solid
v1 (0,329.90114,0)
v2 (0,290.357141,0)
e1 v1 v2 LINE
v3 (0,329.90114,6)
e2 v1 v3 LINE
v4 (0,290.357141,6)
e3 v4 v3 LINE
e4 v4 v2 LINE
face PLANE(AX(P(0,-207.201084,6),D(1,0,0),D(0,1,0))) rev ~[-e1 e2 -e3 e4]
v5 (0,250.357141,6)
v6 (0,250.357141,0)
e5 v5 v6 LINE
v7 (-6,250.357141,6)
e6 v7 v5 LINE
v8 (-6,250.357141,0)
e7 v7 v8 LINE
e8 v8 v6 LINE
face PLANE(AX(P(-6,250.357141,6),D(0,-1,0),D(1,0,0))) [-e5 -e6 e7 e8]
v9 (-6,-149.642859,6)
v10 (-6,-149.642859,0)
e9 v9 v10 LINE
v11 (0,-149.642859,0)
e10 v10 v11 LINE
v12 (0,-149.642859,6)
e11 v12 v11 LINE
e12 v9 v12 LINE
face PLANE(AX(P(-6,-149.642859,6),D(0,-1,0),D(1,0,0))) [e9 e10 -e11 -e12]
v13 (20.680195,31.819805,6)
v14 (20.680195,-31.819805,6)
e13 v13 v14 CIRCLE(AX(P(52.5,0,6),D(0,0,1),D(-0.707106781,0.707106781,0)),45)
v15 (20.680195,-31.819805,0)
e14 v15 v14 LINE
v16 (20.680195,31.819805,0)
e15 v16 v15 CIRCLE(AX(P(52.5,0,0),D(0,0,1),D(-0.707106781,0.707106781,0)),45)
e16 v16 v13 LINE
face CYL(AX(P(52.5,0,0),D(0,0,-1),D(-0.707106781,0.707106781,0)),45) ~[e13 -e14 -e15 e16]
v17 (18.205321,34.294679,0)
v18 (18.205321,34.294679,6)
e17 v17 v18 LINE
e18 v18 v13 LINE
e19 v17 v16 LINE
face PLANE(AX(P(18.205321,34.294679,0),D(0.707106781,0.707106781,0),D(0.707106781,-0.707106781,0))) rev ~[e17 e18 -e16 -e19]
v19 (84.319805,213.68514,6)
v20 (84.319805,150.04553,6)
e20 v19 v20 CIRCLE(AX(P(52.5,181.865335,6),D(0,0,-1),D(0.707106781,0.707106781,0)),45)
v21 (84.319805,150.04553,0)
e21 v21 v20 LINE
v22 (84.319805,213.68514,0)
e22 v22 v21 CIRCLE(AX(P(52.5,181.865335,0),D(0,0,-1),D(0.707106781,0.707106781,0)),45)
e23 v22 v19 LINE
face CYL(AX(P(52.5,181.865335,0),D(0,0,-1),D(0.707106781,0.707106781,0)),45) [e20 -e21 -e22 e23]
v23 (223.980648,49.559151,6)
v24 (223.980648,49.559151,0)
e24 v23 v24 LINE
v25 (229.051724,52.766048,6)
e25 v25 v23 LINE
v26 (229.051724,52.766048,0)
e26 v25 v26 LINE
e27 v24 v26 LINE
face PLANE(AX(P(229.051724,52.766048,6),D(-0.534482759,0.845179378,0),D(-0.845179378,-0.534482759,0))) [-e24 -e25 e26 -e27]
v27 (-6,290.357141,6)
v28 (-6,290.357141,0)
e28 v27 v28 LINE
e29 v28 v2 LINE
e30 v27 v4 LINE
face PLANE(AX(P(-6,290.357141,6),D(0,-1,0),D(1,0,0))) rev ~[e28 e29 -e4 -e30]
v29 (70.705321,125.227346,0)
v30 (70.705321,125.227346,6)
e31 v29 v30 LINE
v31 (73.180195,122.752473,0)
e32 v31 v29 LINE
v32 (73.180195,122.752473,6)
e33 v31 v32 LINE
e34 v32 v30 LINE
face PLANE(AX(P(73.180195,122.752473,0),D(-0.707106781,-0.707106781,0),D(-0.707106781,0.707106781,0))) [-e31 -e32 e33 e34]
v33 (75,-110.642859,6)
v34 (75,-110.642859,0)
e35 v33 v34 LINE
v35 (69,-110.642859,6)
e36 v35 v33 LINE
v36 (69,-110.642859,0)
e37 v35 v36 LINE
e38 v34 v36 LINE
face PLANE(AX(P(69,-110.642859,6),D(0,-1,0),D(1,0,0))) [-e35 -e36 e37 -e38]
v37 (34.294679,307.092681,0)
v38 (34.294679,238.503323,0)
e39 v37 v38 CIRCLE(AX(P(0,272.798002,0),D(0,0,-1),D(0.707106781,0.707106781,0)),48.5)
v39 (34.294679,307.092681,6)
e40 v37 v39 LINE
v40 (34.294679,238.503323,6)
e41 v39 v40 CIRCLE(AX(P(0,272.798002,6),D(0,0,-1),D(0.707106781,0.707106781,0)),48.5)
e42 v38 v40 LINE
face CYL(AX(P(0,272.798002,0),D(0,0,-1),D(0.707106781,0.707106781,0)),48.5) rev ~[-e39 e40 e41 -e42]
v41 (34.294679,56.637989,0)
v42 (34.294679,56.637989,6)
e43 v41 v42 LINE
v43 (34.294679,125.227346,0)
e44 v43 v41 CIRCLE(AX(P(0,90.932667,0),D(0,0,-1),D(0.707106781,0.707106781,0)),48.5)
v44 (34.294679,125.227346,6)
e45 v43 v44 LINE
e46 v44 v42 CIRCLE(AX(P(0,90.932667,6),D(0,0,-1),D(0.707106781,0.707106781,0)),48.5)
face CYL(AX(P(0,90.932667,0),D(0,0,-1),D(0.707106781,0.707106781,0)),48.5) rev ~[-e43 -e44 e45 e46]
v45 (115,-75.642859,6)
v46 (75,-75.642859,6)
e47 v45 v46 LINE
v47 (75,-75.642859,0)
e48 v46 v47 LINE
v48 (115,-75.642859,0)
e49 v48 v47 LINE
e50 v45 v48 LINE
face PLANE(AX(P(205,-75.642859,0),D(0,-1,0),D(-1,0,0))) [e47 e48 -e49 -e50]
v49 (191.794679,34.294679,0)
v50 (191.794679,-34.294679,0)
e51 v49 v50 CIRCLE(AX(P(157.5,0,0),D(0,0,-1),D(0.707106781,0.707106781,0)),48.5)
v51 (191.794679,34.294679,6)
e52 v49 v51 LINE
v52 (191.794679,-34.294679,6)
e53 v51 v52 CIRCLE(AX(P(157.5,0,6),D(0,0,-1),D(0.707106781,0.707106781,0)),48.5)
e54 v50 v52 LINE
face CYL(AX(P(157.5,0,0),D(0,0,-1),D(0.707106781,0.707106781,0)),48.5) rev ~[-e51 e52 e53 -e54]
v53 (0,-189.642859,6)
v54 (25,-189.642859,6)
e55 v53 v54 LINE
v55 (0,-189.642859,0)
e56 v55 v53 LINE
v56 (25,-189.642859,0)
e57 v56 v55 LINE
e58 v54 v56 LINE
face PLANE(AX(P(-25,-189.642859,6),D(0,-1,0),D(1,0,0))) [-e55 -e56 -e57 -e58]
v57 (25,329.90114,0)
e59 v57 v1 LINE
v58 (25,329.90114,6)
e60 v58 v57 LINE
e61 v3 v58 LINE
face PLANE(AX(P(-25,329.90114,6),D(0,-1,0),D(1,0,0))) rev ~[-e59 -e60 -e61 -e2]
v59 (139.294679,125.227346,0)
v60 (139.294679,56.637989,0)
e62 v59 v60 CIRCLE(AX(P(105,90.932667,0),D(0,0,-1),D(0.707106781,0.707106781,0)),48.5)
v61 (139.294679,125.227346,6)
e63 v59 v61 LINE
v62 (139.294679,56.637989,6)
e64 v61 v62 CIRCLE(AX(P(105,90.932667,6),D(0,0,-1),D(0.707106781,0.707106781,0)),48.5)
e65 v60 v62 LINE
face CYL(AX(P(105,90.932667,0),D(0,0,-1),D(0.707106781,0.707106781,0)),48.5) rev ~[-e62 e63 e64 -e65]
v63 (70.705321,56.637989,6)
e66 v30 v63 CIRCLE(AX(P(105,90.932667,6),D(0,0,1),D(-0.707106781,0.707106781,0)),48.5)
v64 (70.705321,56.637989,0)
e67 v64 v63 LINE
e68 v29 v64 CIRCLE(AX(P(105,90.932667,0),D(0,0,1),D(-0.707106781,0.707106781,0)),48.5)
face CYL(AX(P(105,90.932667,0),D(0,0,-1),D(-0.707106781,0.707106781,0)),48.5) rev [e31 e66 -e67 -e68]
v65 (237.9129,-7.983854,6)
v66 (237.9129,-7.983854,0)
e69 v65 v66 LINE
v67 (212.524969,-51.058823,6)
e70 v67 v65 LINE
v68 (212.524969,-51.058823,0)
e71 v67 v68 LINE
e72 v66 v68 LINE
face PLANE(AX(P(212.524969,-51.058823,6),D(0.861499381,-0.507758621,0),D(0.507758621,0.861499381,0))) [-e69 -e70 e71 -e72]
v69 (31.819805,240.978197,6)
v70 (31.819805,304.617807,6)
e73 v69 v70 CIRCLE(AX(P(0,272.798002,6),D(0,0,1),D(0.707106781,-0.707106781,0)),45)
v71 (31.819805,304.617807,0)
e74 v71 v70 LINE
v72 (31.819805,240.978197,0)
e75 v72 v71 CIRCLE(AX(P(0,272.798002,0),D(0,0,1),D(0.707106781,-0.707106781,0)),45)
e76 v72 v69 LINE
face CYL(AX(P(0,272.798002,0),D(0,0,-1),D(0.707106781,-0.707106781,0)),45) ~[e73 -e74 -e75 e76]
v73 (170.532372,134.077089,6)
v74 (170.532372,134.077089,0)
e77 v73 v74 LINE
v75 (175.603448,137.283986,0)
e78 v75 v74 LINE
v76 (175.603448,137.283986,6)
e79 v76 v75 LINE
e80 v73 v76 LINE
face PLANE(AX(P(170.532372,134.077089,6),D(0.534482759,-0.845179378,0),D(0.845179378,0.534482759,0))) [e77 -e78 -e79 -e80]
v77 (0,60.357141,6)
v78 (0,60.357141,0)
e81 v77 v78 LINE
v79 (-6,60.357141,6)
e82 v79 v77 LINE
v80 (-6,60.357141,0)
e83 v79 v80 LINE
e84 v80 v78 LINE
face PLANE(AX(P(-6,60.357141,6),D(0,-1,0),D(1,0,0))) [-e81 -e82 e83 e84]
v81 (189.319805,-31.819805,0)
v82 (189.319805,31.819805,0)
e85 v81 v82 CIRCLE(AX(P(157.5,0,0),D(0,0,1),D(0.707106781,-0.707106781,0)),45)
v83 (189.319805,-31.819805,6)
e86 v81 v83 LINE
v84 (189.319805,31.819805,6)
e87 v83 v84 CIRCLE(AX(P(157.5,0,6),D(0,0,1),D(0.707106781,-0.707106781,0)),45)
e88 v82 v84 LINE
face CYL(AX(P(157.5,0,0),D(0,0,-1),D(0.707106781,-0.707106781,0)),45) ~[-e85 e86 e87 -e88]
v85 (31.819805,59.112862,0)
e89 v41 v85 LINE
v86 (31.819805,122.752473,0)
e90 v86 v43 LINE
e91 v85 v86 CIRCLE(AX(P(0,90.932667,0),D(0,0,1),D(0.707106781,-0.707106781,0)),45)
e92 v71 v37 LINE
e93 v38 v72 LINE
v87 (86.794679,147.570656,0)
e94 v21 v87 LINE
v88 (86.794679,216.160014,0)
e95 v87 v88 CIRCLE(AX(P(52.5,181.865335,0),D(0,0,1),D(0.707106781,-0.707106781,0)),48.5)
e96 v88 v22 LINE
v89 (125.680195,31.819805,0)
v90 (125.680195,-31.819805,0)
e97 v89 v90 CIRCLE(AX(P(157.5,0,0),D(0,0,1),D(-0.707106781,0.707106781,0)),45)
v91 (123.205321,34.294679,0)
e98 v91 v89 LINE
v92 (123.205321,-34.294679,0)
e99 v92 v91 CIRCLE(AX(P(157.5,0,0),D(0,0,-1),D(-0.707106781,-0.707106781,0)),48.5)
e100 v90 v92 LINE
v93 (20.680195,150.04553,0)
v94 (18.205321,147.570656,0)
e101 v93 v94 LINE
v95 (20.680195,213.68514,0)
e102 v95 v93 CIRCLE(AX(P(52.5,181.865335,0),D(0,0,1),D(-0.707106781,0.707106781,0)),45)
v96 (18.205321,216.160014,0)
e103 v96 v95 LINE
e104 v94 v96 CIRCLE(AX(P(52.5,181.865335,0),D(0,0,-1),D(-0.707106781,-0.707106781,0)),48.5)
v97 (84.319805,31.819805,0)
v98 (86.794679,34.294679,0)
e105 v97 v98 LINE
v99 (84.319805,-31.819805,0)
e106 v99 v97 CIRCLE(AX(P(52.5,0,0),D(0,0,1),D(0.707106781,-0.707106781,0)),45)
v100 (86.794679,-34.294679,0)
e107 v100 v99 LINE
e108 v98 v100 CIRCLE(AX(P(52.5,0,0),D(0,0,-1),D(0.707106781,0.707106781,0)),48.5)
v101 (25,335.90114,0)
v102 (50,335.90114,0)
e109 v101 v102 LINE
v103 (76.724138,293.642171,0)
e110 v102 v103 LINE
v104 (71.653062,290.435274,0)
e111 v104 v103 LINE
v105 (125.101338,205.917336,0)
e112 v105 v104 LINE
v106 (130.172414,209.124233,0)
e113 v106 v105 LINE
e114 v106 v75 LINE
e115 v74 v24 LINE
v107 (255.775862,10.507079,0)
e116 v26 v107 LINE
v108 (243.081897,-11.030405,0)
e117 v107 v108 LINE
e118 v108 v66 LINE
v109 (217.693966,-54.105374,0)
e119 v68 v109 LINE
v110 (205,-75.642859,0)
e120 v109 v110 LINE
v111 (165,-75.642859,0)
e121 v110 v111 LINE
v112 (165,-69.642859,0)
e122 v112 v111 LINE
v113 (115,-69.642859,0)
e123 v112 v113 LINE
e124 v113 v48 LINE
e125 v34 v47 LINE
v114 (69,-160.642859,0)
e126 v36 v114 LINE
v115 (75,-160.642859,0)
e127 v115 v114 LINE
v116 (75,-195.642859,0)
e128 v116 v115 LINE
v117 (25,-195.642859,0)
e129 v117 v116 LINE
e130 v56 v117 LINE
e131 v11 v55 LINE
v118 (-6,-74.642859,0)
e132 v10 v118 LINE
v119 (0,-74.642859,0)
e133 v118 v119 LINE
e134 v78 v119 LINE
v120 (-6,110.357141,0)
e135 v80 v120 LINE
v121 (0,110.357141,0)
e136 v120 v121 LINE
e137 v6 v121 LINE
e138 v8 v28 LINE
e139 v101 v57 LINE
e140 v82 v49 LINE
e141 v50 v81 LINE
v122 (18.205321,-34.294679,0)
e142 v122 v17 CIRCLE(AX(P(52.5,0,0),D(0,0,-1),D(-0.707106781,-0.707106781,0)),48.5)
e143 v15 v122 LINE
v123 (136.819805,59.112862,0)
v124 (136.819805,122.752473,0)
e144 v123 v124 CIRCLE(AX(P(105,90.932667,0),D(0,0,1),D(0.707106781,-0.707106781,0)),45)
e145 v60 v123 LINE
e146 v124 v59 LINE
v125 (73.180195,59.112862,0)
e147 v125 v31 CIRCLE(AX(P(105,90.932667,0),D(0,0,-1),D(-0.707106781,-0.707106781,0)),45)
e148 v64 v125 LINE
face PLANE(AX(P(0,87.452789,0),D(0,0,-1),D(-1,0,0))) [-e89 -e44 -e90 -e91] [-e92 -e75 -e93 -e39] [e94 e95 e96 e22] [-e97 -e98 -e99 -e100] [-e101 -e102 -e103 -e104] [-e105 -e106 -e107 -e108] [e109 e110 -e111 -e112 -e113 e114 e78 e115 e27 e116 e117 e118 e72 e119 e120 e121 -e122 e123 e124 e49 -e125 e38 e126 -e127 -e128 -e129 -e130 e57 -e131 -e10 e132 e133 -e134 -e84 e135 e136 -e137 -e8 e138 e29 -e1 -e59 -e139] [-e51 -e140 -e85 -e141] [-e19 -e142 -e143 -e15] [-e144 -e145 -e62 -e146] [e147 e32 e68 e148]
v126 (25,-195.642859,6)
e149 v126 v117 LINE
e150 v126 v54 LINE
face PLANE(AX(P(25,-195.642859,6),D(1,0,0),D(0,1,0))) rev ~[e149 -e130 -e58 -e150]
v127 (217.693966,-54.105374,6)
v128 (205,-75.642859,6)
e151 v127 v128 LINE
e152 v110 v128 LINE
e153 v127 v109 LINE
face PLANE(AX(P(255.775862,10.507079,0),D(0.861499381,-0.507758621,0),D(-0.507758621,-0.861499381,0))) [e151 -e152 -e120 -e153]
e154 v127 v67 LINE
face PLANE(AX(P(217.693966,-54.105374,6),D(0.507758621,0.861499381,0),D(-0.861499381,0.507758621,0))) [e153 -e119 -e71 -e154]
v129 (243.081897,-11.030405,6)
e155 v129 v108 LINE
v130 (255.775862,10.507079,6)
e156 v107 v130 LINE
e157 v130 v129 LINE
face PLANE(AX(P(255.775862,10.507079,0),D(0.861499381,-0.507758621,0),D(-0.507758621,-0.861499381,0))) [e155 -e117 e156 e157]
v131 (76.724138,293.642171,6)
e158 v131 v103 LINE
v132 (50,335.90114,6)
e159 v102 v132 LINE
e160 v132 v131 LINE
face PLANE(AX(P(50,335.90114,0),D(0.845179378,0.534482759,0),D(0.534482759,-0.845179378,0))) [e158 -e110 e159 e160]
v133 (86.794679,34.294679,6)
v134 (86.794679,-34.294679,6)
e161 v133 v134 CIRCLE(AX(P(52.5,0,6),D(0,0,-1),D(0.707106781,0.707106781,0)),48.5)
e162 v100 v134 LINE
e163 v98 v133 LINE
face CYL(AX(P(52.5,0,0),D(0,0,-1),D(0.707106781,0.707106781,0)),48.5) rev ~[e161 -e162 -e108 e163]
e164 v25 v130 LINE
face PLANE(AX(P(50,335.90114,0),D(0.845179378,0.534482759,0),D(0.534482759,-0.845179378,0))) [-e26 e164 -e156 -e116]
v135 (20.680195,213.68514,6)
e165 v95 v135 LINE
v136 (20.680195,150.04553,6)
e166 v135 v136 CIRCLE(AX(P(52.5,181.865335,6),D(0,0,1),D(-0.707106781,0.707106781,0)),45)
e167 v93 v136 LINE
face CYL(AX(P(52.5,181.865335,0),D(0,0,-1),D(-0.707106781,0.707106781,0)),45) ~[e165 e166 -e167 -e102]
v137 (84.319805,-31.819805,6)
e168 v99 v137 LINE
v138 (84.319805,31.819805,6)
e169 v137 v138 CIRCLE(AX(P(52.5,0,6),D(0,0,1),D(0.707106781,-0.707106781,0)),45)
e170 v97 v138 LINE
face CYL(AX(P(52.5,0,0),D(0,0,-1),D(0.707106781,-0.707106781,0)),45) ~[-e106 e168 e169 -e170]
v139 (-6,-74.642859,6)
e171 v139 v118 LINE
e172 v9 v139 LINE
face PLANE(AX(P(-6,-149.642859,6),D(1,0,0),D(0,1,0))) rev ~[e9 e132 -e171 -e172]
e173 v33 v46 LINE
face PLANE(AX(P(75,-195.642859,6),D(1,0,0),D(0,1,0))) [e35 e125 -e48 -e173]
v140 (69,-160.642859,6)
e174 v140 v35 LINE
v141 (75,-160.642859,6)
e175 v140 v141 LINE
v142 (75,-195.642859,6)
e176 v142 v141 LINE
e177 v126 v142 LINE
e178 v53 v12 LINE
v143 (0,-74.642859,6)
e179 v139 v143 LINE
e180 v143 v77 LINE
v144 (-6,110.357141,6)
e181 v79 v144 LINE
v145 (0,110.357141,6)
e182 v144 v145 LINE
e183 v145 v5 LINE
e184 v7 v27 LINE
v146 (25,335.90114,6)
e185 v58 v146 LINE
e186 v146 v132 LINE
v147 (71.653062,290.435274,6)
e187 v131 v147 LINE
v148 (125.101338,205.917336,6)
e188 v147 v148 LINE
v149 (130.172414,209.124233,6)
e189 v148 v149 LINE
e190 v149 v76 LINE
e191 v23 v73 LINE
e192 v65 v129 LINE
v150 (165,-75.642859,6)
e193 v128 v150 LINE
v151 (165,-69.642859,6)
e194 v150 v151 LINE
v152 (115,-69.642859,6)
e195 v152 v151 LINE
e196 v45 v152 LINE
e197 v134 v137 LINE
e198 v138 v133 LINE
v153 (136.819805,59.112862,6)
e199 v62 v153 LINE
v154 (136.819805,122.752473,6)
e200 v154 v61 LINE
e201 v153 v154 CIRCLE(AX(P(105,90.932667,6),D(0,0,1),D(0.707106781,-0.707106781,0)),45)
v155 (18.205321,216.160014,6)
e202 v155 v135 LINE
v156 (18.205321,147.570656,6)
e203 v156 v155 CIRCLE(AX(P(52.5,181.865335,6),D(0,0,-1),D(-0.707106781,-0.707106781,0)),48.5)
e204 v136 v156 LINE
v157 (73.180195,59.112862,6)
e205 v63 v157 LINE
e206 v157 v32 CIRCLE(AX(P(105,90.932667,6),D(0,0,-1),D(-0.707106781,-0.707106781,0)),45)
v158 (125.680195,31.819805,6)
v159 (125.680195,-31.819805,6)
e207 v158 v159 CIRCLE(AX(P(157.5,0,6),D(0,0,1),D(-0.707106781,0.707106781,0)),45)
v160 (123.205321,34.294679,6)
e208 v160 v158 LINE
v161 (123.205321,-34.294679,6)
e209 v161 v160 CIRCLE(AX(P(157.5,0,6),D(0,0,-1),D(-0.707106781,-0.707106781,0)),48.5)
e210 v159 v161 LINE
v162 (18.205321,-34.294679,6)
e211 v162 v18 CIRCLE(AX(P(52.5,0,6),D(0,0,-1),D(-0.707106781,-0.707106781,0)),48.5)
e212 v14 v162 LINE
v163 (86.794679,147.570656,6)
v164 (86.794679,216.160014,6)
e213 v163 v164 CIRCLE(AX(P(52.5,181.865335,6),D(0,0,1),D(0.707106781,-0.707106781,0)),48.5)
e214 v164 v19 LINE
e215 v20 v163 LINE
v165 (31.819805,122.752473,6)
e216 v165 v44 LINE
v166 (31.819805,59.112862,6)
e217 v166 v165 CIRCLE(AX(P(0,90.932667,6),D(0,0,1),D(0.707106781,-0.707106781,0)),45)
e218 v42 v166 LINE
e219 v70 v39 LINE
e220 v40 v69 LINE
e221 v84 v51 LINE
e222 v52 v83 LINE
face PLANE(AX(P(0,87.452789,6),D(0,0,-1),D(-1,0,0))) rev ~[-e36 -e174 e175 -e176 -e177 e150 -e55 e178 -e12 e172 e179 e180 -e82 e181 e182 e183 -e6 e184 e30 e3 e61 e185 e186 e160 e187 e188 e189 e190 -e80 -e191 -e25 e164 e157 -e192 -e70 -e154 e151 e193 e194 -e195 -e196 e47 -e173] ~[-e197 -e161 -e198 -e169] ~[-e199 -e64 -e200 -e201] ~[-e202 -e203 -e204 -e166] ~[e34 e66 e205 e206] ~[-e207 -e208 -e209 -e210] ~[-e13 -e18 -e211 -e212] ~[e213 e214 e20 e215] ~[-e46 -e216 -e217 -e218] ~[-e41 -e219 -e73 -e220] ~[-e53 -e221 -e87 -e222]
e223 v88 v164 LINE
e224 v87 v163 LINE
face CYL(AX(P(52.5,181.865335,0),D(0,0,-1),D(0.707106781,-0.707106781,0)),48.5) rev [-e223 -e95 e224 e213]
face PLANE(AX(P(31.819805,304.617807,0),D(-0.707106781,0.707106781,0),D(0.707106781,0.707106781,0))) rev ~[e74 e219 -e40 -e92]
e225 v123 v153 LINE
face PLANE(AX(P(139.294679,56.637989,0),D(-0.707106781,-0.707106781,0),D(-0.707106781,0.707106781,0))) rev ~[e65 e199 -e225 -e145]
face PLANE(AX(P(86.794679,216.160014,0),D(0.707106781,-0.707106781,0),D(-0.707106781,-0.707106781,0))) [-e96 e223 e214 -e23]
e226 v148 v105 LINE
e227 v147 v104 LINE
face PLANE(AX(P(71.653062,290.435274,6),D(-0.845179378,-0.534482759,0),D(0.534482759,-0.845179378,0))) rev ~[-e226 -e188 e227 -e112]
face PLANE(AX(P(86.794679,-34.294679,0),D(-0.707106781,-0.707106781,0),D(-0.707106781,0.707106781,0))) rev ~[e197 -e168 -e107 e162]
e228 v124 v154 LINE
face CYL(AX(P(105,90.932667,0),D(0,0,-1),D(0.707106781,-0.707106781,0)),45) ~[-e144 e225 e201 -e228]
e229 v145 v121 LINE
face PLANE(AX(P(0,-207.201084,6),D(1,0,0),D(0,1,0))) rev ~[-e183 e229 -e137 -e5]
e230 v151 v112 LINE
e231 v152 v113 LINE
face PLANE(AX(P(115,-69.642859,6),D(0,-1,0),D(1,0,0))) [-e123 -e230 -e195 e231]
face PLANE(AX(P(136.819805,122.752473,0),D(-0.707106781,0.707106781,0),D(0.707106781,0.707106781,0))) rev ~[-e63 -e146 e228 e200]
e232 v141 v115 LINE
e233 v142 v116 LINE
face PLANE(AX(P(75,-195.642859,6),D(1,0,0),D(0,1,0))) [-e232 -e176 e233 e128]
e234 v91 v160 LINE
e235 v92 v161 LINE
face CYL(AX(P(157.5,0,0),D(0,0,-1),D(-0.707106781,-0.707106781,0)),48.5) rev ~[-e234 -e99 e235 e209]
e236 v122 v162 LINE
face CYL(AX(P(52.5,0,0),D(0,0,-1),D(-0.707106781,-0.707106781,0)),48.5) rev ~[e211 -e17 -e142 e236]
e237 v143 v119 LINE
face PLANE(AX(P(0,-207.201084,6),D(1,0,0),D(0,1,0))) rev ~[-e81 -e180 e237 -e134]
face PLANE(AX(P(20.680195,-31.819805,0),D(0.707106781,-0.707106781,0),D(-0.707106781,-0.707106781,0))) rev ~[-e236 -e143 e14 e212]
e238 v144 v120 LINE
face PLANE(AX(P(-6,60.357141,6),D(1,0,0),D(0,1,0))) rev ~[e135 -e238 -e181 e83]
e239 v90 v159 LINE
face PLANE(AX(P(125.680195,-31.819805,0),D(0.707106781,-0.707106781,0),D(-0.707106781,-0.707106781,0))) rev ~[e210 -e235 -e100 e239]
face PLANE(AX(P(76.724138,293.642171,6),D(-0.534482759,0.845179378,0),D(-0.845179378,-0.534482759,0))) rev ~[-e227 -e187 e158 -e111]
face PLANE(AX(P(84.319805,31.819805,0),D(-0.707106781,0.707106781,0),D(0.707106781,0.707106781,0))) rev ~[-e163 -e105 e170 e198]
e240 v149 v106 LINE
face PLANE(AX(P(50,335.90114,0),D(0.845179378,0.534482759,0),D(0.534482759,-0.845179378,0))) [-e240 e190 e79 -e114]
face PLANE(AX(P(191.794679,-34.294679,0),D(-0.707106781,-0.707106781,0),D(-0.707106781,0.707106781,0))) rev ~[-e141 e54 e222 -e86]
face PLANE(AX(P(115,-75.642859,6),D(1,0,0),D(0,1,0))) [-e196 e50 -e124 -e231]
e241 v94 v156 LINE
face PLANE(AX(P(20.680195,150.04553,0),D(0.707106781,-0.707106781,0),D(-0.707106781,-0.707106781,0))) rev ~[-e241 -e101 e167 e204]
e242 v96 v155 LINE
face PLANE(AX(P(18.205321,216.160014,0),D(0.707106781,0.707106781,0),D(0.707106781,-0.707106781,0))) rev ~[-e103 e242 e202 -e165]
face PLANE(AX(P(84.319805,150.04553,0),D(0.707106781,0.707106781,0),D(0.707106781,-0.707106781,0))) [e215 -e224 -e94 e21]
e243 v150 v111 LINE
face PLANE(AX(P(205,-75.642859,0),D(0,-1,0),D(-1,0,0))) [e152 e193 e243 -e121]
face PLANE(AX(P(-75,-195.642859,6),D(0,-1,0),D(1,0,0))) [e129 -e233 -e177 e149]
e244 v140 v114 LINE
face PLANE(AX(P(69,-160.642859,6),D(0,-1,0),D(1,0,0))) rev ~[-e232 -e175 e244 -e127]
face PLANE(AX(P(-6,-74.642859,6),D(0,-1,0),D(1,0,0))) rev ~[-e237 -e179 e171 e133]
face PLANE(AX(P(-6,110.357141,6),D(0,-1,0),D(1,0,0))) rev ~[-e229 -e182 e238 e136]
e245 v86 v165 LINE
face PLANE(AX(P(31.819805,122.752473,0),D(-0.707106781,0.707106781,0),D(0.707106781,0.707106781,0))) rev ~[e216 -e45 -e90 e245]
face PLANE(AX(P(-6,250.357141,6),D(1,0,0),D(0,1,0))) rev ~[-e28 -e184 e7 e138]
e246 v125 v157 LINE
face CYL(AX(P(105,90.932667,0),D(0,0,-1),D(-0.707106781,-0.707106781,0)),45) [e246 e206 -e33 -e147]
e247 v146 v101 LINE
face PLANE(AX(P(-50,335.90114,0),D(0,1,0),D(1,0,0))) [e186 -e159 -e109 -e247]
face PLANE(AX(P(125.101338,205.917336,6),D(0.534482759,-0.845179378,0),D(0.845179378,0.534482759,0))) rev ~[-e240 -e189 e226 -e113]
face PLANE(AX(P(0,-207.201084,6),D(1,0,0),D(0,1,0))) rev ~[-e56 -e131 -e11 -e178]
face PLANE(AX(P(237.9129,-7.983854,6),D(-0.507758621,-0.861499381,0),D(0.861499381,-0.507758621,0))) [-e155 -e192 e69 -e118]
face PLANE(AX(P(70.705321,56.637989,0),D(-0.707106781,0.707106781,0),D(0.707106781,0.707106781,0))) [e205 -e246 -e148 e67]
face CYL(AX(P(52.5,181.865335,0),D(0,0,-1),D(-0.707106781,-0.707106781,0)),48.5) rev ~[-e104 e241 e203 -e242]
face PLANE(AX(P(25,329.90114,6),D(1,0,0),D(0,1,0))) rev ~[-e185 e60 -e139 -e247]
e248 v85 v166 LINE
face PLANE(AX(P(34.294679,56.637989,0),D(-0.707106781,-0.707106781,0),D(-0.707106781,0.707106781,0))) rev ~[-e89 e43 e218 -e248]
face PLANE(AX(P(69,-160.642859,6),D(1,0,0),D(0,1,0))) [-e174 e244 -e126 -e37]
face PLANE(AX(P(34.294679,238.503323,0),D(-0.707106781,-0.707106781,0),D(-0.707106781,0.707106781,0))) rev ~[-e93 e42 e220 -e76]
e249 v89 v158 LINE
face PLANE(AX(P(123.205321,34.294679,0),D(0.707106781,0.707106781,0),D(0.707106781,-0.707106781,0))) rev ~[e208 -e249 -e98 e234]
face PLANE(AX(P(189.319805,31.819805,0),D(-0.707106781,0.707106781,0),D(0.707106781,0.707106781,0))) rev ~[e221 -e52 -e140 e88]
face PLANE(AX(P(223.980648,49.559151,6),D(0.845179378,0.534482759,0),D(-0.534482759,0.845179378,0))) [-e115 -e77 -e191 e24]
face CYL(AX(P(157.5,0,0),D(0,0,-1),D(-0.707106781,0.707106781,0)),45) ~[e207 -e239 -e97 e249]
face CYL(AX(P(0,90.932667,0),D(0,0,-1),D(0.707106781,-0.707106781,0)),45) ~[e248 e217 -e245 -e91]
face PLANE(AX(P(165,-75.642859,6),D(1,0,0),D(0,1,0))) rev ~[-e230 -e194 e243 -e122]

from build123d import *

# Parameters (mm, degrees)
BOSS_EXTRU_1_DEPTH      = 6
ESQUISSE2_W             = 150
ESQUISSE2_H             = 120
BOSS_EXTRU_2_DEPTH      = 6
ESQUISSE3_W             = 6
ESQUISSE3_H             = 50
ESQUISSE3_W_2           = 50
ESQUISSE3_H_2           = 6
ENL_V_MAT_EXTRU_1_DEPTH = 10
ESQUISSE4_W             = 50
ESQUISSE4_H             = 6
ENL_V_MAT_EXTRU_2_DEPTH = 10
ESQUISSE7_W             = 293.706966018
ESQUISSE7_H             = 576.29660199
ENL_V_MAT_EXTRU_4_DEPTH = 10
ESQUISSE8_W             = 6
ESQUISSE8_H             = 40
ESQUISSE8_H_2           = 50
ESQUISSE8_H_3           = 75
BOSS_EXTRU_4_DEPTH      = 6


with BuildPart() as part:
    # Esquisse1 → Boss.-Extru.1 (new body)
    with BuildSketch(Plane.XY):
        Polygon((-50, 335.901139535), (50, 335.901139535), (255.775862069, 10.507079064), (205, -75.642859016), (-205, -75.642859016), (-255.775862069, 10.507079064), align=None)
        with BuildLine():
            Line((-189.319805153, 31.819805153), (-191.794678888, 34.294678888))
            ThreePointArc((-191.794678888, 34.294678888), (-206, 0), (-191.794678888, -34.294678888))
            Line((-191.794678888, -34.294678888), (-189.319805153, -31.819805153))
            ThreePointArc((-189.319805153, -31.819805153), (-202.5, 0), (-189.319805153, 31.819805153))
        make_face(mode=Mode.SUBTRACT)
        with BuildLine():
            Line((-125.680194847, 31.819805153), (-123.205321112, 34.294678888))
            ThreePointArc((-123.205321112, 34.294678888), (-109, 0), (-123.205321112, -34.294678888))
            Line((-123.205321112, -34.294678888), (-125.680194847, -31.819805153))
            ThreePointArc((-125.680194847, -31.819805153), (-112.5, 0), (-125.680194847, 31.819805153))
        make_face(mode=Mode.SUBTRACT)
        with BuildLine():
            Line((-84.319805153, -31.819805153), (-86.794678888, -34.294678888))
            ThreePointArc((-86.794678888, -34.294678888), (-101, 0), (-86.794678888, 34.294678888))
            Line((-86.794678888, 34.294678888), (-84.319805153, 31.819805153))
            ThreePointArc((-84.319805153, 31.819805153), (-97.5, 0), (-84.319805153, -31.819805153))
        make_face(mode=Mode.SUBTRACT)
        with BuildLine():
            Line((-20.680194847, 31.819805153), (-18.205321112, 34.294678888))
            ThreePointArc((-18.205321112, 34.294678888), (-4, 0), (-18.205321112, -34.294678888))
            Line((-18.205321112, -34.294678888), (-20.680194847, -31.819805153))
            ThreePointArc((-20.680194847, -31.819805153), (-7.5, 0), (-20.680194847, 31.819805153))
        make_face(mode=Mode.SUBTRACT)
        with BuildLine():
            Line((20.680194847, -31.819805153), (18.205321112, -34.294678888))
            ThreePointArc((18.205321112, -34.294678888), (4, 0), (18.205321112, 34.294678888))
            Line((18.205321112, 34.294678888), (20.680194847, 31.819805153))
            ThreePointArc((20.680194847, 31.819805153), (7.5, 0), (20.680194847, -31.819805153))
        make_face(mode=Mode.SUBTRACT)
        with BuildLine():
            Line((84.319805153, 31.819805153), (86.794678888, 34.294678888))
            ThreePointArc((86.794678888, 34.294678888), (101, 0), (86.794678888, -34.294678888))
            Line((86.794678888, -34.294678888), (84.319805153, -31.819805153))
            ThreePointArc((84.319805153, -31.819805153), (97.5, 0), (84.319805153, 31.819805153))
        make_face(mode=Mode.SUBTRACT)
        with BuildLine():
            Line((125.680194847, -31.819805153), (123.205321112, -34.294678888))
            ThreePointArc((123.205321112, -34.294678888), (109, 0), (123.205321112, 34.294678888))
            Line((123.205321112, 34.294678888), (125.680194847, 31.819805153))
            ThreePointArc((125.680194847, 31.819805153), (112.5, 0), (125.680194847, -31.819805153))
        make_face(mode=Mode.SUBTRACT)
        with BuildLine():
            Line((189.319805153, 31.819805153), (191.794678888, 34.294678888))
            ThreePointArc((191.794678888, 34.294678888), (206, 0), (191.794678888, -34.294678888))
            Line((191.794678888, -34.294678888), (189.319805153, -31.819805153))
            ThreePointArc((189.319805153, -31.819805153), (202.5, 0), (189.319805153, 31.819805153))
        make_face(mode=Mode.SUBTRACT)
        with BuildLine():
            Line((-139.294678888, 56.63798851), (-136.819805153, 59.112862244))
            ThreePointArc((-136.819805153, 59.112862244), (-150, 90.932667397), (-136.819805153, 122.752472551))
            Line((-136.819805153, 122.752472551), (-139.294678888, 125.227346285))
            ThreePointArc((-139.294678888, 125.227346285), (-153.5, 90.932667397), (-139.294678888, 56.63798851))
        make_face(mode=Mode.SUBTRACT)
        with BuildLine():
            Line((-70.705321112, 56.63798851), (-73.180194847, 59.112862244))
            ThreePointArc((-73.180194847, 59.112862244), (-60, 90.932667397), (-73.180194847, 122.752472551))
            Line((-73.180194847, 122.752472551), (-70.705321112, 125.227346285))
            ThreePointArc((-70.705321112, 125.227346285), (-56.5, 90.932667397), (-70.705321112, 56.63798851))
        make_face(mode=Mode.SUBTRACT)
        with BuildLine():
            Line((-31.819805153, 122.752472551), (-34.294678888, 125.227346285))
            ThreePointArc((-34.294678888, 125.227346285), (-48.5, 90.932667397), (-34.294678888, 56.63798851))
            Line((-34.294678888, 56.63798851), (-31.819805153, 59.112862244))
            ThreePointArc((-31.819805153, 59.112862244), (-45, 90.932667397), (-31.819805153, 122.752472551))
        make_face(mode=Mode.SUBTRACT)
        with BuildLine():
            Line((34.294678888, 56.63798851), (31.819805153, 59.112862244))
            ThreePointArc((31.819805153, 59.112862244), (45, 90.932667397), (31.819805153, 122.752472551))
            Line((31.819805153, 122.752472551), (34.294678888, 125.227346285))
            ThreePointArc((34.294678888, 125.227346285), (48.5, 90.932667397), (34.294678888, 56.63798851))
        make_face(mode=Mode.SUBTRACT)
        with BuildLine():
            Line((73.180194847, 122.752472551), (70.705321112, 125.227346285))
            ThreePointArc((70.705321112, 125.227346285), (56.5, 90.932667397), (70.705321112, 56.63798851))
            Line((70.705321112, 56.63798851), (73.180194847, 59.112862244))
            ThreePointArc((73.180194847, 59.112862244), (60, 90.932667397), (73.180194847, 122.752472551))
        make_face(mode=Mode.SUBTRACT)
        with BuildLine():
            Line((139.294678888, 56.63798851), (136.819805153, 59.112862244))
            ThreePointArc((136.819805153, 59.112862244), (150, 90.932667397), (136.819805153, 122.752472551))
            Line((136.819805153, 122.752472551), (139.294678888, 125.227346285))
            ThreePointArc((139.294678888, 125.227346285), (153.5, 90.932667397), (139.294678888, 56.63798851))
        make_face(mode=Mode.SUBTRACT)
        with BuildLine():
            Line((-84.319805153, 213.685139948), (-86.794678888, 216.160013682))
            ThreePointArc((-86.794678888, 216.160013682), (-101, 181.865334795), (-86.794678888, 147.570655907))
            Line((-86.794678888, 147.570655907), (-84.319805153, 150.045529641))
            ThreePointArc((-84.319805153, 150.045529641), (-97.5, 181.865334795), (-84.319805153, 213.685139948))
        make_face(mode=Mode.SUBTRACT)
        with BuildLine():
            Line((-20.680194847, 213.685139948), (-18.205321112, 216.160013682))
            ThreePointArc((-18.205321112, 216.160013682), (-4, 181.865334795), (-18.205321112, 147.570655907))
            Line((-18.205321112, 147.570655907), (-20.680194847, 150.045529641))
            ThreePointArc((-20.680194847, 150.045529641), (-7.5, 181.865334795), (-20.680194847, 213.685139948))
        make_face(mode=Mode.SUBTRACT)
        with BuildLine():
            Line((20.680194847, 150.045529641), (18.205321112, 147.570655907))
            ThreePointArc((18.205321112, 147.570655907), (4, 181.865334795), (18.205321112, 216.160013682))
            Line((18.205321112, 216.160013682), (20.680194847, 213.685139948))
            ThreePointArc((20.680194847, 213.685139948), (7.5, 181.865334795), (20.680194847, 150.045529641))
        make_face(mode=Mode.SUBTRACT)
        with BuildLine():
            Line((84.319805153, 150.045529641), (86.794678888, 147.570655907))
            ThreePointArc((86.794678888, 147.570655907), (101, 181.865334795), (86.794678888, 216.160013682))
            Line((86.794678888, 216.160013682), (84.319805153, 213.685139948))
            ThreePointArc((84.319805153, 213.685139948), (97.5, 181.865334795), (84.319805153, 150.045529641))
        make_face(mode=Mode.SUBTRACT)
        with BuildLine():
            Line((-31.819805153, 304.617807345), (-34.294678888, 307.09268108))
            ThreePointArc((-34.294678888, 307.09268108), (-48.5, 272.798002192), (-34.294678888, 238.503323305))
            Line((-34.294678888, 238.503323305), (-31.819805153, 240.978197039))
            ThreePointArc((-31.819805153, 240.978197039), (-45, 272.798002192), (-31.819805153, 304.617807345))
        make_face(mode=Mode.SUBTRACT)
        with BuildLine():
            Line((31.819805153, 304.617807345), (34.294678888, 307.09268108))
            ThreePointArc((34.294678888, 307.09268108), (48.5, 272.798002192), (34.294678888, 238.503323305))
            Line((34.294678888, 238.503323305), (31.819805153, 240.978197039))
            ThreePointArc((31.819805153, 240.978197039), (45, 272.798002192), (31.819805153, 304.617807345))
        make_face(mode=Mode.SUBTRACT)
    extrude(amount=BOSS_EXTRU_1_DEPTH)

    # Esquisse2 → Boss.-Extru.2 (add)
    with BuildSketch(Plane.XY.offset(6)):
        with Locations((0, -135.642859016)):
            Rectangle(ESQUISSE2_W, ESQUISSE2_H)
    extrude(amount=-BOSS_EXTRU_2_DEPTH)

    # Esquisse3 → Enlèv. mat.-Extru.1 (cut)
    with BuildSketch(Plane.XY.offset(6)):
        with Locations((-72, -135.642859016)):
            Rectangle(ESQUISSE3_W, ESQUISSE3_H)
        with Locations((0, -192.642859016)):
            Rectangle(ESQUISSE3_W_2, ESQUISSE3_H_2)
        with Locations((72, -135.642859016)):
            Rectangle(ESQUISSE3_W, ESQUISSE3_H)
    extrude(amount=-ENL_V_MAT_EXTRU_1_DEPTH, mode=Mode.SUBTRACT)

    # Esquisse4 → Enlèv. mat.-Extru.2 (cut)
    with BuildSketch(Plane.XY.offset(6)):
        with Locations((-140, -72.642859016)):
            Rectangle(ESQUISSE4_W, ESQUISSE4_H)
        Polygon((-217.693965517, -54.105374496), (-212.524969232, -51.058822772), (-237.912900267, -7.983853732), (-243.081896552, -11.030405456), align=None)
        Polygon((-229.051724138, 52.766047956), (-223.980647871, 49.559151404), (-170.532372009, 134.077089189), (-175.603448276, 137.283985741), align=None)
        Polygon((-71.653061664, 290.43527409), (-76.724137931, 293.642170642), (-130.172413793, 209.124232858), (-125.101337526, 205.917336306), align=None)
        with Locations((0, 332.901139535)):
            Rectangle(ESQUISSE4_W, ESQUISSE4_H)
        with Locations((140, -72.642859016)):
            Rectangle(ESQUISSE4_W, ESQUISSE4_H)
        Polygon((237.912900267, -7.983853732), (243.081896552, -11.030405456), (217.693965517, -54.105374496), (212.524969232, -51.058822772), align=None)
        Polygon((170.532372009, 134.077089189), (175.603448276, 137.283985741), (229.051724138, 52.766047956), (223.980647871, 49.559151404), align=None)
        Polygon((125.101337526, 205.917336306), (130.172413793, 209.124232858), (76.724137931, 293.642170642), (71.653061664, 290.43527409), align=None)
    extrude(amount=-ENL_V_MAT_EXTRU_2_DEPTH, mode=Mode.SUBTRACT)

    # Esquisse7 → Enlèv. mat.-Extru.4 (cut)
    with BuildSketch(Plane.XY.offset(6)):
        with Locations((-146.853483009, 80.947217028)):
            Rectangle(ESQUISSE7_W, ESQUISSE7_H)
    extrude(amount=-ENL_V_MAT_EXTRU_4_DEPTH, mode=Mode.SUBTRACT)

    # Esquisse8 → Boss.-Extru.4 (add)
    with BuildSketch(Plane.XY.offset(6)):
        with Locations((-3, 270.357140984)):
            Rectangle(ESQUISSE8_W, ESQUISSE8_H)
        with Locations((-3, 85.357140984)):
            Rectangle(ESQUISSE8_W, ESQUISSE8_H_2)
        with Locations((-3, -112.142859016)):
            Rectangle(ESQUISSE8_W, ESQUISSE8_H_3)
    extrude(amount=-BOSS_EXTRU_4_DEPTH)


solid = part.part
